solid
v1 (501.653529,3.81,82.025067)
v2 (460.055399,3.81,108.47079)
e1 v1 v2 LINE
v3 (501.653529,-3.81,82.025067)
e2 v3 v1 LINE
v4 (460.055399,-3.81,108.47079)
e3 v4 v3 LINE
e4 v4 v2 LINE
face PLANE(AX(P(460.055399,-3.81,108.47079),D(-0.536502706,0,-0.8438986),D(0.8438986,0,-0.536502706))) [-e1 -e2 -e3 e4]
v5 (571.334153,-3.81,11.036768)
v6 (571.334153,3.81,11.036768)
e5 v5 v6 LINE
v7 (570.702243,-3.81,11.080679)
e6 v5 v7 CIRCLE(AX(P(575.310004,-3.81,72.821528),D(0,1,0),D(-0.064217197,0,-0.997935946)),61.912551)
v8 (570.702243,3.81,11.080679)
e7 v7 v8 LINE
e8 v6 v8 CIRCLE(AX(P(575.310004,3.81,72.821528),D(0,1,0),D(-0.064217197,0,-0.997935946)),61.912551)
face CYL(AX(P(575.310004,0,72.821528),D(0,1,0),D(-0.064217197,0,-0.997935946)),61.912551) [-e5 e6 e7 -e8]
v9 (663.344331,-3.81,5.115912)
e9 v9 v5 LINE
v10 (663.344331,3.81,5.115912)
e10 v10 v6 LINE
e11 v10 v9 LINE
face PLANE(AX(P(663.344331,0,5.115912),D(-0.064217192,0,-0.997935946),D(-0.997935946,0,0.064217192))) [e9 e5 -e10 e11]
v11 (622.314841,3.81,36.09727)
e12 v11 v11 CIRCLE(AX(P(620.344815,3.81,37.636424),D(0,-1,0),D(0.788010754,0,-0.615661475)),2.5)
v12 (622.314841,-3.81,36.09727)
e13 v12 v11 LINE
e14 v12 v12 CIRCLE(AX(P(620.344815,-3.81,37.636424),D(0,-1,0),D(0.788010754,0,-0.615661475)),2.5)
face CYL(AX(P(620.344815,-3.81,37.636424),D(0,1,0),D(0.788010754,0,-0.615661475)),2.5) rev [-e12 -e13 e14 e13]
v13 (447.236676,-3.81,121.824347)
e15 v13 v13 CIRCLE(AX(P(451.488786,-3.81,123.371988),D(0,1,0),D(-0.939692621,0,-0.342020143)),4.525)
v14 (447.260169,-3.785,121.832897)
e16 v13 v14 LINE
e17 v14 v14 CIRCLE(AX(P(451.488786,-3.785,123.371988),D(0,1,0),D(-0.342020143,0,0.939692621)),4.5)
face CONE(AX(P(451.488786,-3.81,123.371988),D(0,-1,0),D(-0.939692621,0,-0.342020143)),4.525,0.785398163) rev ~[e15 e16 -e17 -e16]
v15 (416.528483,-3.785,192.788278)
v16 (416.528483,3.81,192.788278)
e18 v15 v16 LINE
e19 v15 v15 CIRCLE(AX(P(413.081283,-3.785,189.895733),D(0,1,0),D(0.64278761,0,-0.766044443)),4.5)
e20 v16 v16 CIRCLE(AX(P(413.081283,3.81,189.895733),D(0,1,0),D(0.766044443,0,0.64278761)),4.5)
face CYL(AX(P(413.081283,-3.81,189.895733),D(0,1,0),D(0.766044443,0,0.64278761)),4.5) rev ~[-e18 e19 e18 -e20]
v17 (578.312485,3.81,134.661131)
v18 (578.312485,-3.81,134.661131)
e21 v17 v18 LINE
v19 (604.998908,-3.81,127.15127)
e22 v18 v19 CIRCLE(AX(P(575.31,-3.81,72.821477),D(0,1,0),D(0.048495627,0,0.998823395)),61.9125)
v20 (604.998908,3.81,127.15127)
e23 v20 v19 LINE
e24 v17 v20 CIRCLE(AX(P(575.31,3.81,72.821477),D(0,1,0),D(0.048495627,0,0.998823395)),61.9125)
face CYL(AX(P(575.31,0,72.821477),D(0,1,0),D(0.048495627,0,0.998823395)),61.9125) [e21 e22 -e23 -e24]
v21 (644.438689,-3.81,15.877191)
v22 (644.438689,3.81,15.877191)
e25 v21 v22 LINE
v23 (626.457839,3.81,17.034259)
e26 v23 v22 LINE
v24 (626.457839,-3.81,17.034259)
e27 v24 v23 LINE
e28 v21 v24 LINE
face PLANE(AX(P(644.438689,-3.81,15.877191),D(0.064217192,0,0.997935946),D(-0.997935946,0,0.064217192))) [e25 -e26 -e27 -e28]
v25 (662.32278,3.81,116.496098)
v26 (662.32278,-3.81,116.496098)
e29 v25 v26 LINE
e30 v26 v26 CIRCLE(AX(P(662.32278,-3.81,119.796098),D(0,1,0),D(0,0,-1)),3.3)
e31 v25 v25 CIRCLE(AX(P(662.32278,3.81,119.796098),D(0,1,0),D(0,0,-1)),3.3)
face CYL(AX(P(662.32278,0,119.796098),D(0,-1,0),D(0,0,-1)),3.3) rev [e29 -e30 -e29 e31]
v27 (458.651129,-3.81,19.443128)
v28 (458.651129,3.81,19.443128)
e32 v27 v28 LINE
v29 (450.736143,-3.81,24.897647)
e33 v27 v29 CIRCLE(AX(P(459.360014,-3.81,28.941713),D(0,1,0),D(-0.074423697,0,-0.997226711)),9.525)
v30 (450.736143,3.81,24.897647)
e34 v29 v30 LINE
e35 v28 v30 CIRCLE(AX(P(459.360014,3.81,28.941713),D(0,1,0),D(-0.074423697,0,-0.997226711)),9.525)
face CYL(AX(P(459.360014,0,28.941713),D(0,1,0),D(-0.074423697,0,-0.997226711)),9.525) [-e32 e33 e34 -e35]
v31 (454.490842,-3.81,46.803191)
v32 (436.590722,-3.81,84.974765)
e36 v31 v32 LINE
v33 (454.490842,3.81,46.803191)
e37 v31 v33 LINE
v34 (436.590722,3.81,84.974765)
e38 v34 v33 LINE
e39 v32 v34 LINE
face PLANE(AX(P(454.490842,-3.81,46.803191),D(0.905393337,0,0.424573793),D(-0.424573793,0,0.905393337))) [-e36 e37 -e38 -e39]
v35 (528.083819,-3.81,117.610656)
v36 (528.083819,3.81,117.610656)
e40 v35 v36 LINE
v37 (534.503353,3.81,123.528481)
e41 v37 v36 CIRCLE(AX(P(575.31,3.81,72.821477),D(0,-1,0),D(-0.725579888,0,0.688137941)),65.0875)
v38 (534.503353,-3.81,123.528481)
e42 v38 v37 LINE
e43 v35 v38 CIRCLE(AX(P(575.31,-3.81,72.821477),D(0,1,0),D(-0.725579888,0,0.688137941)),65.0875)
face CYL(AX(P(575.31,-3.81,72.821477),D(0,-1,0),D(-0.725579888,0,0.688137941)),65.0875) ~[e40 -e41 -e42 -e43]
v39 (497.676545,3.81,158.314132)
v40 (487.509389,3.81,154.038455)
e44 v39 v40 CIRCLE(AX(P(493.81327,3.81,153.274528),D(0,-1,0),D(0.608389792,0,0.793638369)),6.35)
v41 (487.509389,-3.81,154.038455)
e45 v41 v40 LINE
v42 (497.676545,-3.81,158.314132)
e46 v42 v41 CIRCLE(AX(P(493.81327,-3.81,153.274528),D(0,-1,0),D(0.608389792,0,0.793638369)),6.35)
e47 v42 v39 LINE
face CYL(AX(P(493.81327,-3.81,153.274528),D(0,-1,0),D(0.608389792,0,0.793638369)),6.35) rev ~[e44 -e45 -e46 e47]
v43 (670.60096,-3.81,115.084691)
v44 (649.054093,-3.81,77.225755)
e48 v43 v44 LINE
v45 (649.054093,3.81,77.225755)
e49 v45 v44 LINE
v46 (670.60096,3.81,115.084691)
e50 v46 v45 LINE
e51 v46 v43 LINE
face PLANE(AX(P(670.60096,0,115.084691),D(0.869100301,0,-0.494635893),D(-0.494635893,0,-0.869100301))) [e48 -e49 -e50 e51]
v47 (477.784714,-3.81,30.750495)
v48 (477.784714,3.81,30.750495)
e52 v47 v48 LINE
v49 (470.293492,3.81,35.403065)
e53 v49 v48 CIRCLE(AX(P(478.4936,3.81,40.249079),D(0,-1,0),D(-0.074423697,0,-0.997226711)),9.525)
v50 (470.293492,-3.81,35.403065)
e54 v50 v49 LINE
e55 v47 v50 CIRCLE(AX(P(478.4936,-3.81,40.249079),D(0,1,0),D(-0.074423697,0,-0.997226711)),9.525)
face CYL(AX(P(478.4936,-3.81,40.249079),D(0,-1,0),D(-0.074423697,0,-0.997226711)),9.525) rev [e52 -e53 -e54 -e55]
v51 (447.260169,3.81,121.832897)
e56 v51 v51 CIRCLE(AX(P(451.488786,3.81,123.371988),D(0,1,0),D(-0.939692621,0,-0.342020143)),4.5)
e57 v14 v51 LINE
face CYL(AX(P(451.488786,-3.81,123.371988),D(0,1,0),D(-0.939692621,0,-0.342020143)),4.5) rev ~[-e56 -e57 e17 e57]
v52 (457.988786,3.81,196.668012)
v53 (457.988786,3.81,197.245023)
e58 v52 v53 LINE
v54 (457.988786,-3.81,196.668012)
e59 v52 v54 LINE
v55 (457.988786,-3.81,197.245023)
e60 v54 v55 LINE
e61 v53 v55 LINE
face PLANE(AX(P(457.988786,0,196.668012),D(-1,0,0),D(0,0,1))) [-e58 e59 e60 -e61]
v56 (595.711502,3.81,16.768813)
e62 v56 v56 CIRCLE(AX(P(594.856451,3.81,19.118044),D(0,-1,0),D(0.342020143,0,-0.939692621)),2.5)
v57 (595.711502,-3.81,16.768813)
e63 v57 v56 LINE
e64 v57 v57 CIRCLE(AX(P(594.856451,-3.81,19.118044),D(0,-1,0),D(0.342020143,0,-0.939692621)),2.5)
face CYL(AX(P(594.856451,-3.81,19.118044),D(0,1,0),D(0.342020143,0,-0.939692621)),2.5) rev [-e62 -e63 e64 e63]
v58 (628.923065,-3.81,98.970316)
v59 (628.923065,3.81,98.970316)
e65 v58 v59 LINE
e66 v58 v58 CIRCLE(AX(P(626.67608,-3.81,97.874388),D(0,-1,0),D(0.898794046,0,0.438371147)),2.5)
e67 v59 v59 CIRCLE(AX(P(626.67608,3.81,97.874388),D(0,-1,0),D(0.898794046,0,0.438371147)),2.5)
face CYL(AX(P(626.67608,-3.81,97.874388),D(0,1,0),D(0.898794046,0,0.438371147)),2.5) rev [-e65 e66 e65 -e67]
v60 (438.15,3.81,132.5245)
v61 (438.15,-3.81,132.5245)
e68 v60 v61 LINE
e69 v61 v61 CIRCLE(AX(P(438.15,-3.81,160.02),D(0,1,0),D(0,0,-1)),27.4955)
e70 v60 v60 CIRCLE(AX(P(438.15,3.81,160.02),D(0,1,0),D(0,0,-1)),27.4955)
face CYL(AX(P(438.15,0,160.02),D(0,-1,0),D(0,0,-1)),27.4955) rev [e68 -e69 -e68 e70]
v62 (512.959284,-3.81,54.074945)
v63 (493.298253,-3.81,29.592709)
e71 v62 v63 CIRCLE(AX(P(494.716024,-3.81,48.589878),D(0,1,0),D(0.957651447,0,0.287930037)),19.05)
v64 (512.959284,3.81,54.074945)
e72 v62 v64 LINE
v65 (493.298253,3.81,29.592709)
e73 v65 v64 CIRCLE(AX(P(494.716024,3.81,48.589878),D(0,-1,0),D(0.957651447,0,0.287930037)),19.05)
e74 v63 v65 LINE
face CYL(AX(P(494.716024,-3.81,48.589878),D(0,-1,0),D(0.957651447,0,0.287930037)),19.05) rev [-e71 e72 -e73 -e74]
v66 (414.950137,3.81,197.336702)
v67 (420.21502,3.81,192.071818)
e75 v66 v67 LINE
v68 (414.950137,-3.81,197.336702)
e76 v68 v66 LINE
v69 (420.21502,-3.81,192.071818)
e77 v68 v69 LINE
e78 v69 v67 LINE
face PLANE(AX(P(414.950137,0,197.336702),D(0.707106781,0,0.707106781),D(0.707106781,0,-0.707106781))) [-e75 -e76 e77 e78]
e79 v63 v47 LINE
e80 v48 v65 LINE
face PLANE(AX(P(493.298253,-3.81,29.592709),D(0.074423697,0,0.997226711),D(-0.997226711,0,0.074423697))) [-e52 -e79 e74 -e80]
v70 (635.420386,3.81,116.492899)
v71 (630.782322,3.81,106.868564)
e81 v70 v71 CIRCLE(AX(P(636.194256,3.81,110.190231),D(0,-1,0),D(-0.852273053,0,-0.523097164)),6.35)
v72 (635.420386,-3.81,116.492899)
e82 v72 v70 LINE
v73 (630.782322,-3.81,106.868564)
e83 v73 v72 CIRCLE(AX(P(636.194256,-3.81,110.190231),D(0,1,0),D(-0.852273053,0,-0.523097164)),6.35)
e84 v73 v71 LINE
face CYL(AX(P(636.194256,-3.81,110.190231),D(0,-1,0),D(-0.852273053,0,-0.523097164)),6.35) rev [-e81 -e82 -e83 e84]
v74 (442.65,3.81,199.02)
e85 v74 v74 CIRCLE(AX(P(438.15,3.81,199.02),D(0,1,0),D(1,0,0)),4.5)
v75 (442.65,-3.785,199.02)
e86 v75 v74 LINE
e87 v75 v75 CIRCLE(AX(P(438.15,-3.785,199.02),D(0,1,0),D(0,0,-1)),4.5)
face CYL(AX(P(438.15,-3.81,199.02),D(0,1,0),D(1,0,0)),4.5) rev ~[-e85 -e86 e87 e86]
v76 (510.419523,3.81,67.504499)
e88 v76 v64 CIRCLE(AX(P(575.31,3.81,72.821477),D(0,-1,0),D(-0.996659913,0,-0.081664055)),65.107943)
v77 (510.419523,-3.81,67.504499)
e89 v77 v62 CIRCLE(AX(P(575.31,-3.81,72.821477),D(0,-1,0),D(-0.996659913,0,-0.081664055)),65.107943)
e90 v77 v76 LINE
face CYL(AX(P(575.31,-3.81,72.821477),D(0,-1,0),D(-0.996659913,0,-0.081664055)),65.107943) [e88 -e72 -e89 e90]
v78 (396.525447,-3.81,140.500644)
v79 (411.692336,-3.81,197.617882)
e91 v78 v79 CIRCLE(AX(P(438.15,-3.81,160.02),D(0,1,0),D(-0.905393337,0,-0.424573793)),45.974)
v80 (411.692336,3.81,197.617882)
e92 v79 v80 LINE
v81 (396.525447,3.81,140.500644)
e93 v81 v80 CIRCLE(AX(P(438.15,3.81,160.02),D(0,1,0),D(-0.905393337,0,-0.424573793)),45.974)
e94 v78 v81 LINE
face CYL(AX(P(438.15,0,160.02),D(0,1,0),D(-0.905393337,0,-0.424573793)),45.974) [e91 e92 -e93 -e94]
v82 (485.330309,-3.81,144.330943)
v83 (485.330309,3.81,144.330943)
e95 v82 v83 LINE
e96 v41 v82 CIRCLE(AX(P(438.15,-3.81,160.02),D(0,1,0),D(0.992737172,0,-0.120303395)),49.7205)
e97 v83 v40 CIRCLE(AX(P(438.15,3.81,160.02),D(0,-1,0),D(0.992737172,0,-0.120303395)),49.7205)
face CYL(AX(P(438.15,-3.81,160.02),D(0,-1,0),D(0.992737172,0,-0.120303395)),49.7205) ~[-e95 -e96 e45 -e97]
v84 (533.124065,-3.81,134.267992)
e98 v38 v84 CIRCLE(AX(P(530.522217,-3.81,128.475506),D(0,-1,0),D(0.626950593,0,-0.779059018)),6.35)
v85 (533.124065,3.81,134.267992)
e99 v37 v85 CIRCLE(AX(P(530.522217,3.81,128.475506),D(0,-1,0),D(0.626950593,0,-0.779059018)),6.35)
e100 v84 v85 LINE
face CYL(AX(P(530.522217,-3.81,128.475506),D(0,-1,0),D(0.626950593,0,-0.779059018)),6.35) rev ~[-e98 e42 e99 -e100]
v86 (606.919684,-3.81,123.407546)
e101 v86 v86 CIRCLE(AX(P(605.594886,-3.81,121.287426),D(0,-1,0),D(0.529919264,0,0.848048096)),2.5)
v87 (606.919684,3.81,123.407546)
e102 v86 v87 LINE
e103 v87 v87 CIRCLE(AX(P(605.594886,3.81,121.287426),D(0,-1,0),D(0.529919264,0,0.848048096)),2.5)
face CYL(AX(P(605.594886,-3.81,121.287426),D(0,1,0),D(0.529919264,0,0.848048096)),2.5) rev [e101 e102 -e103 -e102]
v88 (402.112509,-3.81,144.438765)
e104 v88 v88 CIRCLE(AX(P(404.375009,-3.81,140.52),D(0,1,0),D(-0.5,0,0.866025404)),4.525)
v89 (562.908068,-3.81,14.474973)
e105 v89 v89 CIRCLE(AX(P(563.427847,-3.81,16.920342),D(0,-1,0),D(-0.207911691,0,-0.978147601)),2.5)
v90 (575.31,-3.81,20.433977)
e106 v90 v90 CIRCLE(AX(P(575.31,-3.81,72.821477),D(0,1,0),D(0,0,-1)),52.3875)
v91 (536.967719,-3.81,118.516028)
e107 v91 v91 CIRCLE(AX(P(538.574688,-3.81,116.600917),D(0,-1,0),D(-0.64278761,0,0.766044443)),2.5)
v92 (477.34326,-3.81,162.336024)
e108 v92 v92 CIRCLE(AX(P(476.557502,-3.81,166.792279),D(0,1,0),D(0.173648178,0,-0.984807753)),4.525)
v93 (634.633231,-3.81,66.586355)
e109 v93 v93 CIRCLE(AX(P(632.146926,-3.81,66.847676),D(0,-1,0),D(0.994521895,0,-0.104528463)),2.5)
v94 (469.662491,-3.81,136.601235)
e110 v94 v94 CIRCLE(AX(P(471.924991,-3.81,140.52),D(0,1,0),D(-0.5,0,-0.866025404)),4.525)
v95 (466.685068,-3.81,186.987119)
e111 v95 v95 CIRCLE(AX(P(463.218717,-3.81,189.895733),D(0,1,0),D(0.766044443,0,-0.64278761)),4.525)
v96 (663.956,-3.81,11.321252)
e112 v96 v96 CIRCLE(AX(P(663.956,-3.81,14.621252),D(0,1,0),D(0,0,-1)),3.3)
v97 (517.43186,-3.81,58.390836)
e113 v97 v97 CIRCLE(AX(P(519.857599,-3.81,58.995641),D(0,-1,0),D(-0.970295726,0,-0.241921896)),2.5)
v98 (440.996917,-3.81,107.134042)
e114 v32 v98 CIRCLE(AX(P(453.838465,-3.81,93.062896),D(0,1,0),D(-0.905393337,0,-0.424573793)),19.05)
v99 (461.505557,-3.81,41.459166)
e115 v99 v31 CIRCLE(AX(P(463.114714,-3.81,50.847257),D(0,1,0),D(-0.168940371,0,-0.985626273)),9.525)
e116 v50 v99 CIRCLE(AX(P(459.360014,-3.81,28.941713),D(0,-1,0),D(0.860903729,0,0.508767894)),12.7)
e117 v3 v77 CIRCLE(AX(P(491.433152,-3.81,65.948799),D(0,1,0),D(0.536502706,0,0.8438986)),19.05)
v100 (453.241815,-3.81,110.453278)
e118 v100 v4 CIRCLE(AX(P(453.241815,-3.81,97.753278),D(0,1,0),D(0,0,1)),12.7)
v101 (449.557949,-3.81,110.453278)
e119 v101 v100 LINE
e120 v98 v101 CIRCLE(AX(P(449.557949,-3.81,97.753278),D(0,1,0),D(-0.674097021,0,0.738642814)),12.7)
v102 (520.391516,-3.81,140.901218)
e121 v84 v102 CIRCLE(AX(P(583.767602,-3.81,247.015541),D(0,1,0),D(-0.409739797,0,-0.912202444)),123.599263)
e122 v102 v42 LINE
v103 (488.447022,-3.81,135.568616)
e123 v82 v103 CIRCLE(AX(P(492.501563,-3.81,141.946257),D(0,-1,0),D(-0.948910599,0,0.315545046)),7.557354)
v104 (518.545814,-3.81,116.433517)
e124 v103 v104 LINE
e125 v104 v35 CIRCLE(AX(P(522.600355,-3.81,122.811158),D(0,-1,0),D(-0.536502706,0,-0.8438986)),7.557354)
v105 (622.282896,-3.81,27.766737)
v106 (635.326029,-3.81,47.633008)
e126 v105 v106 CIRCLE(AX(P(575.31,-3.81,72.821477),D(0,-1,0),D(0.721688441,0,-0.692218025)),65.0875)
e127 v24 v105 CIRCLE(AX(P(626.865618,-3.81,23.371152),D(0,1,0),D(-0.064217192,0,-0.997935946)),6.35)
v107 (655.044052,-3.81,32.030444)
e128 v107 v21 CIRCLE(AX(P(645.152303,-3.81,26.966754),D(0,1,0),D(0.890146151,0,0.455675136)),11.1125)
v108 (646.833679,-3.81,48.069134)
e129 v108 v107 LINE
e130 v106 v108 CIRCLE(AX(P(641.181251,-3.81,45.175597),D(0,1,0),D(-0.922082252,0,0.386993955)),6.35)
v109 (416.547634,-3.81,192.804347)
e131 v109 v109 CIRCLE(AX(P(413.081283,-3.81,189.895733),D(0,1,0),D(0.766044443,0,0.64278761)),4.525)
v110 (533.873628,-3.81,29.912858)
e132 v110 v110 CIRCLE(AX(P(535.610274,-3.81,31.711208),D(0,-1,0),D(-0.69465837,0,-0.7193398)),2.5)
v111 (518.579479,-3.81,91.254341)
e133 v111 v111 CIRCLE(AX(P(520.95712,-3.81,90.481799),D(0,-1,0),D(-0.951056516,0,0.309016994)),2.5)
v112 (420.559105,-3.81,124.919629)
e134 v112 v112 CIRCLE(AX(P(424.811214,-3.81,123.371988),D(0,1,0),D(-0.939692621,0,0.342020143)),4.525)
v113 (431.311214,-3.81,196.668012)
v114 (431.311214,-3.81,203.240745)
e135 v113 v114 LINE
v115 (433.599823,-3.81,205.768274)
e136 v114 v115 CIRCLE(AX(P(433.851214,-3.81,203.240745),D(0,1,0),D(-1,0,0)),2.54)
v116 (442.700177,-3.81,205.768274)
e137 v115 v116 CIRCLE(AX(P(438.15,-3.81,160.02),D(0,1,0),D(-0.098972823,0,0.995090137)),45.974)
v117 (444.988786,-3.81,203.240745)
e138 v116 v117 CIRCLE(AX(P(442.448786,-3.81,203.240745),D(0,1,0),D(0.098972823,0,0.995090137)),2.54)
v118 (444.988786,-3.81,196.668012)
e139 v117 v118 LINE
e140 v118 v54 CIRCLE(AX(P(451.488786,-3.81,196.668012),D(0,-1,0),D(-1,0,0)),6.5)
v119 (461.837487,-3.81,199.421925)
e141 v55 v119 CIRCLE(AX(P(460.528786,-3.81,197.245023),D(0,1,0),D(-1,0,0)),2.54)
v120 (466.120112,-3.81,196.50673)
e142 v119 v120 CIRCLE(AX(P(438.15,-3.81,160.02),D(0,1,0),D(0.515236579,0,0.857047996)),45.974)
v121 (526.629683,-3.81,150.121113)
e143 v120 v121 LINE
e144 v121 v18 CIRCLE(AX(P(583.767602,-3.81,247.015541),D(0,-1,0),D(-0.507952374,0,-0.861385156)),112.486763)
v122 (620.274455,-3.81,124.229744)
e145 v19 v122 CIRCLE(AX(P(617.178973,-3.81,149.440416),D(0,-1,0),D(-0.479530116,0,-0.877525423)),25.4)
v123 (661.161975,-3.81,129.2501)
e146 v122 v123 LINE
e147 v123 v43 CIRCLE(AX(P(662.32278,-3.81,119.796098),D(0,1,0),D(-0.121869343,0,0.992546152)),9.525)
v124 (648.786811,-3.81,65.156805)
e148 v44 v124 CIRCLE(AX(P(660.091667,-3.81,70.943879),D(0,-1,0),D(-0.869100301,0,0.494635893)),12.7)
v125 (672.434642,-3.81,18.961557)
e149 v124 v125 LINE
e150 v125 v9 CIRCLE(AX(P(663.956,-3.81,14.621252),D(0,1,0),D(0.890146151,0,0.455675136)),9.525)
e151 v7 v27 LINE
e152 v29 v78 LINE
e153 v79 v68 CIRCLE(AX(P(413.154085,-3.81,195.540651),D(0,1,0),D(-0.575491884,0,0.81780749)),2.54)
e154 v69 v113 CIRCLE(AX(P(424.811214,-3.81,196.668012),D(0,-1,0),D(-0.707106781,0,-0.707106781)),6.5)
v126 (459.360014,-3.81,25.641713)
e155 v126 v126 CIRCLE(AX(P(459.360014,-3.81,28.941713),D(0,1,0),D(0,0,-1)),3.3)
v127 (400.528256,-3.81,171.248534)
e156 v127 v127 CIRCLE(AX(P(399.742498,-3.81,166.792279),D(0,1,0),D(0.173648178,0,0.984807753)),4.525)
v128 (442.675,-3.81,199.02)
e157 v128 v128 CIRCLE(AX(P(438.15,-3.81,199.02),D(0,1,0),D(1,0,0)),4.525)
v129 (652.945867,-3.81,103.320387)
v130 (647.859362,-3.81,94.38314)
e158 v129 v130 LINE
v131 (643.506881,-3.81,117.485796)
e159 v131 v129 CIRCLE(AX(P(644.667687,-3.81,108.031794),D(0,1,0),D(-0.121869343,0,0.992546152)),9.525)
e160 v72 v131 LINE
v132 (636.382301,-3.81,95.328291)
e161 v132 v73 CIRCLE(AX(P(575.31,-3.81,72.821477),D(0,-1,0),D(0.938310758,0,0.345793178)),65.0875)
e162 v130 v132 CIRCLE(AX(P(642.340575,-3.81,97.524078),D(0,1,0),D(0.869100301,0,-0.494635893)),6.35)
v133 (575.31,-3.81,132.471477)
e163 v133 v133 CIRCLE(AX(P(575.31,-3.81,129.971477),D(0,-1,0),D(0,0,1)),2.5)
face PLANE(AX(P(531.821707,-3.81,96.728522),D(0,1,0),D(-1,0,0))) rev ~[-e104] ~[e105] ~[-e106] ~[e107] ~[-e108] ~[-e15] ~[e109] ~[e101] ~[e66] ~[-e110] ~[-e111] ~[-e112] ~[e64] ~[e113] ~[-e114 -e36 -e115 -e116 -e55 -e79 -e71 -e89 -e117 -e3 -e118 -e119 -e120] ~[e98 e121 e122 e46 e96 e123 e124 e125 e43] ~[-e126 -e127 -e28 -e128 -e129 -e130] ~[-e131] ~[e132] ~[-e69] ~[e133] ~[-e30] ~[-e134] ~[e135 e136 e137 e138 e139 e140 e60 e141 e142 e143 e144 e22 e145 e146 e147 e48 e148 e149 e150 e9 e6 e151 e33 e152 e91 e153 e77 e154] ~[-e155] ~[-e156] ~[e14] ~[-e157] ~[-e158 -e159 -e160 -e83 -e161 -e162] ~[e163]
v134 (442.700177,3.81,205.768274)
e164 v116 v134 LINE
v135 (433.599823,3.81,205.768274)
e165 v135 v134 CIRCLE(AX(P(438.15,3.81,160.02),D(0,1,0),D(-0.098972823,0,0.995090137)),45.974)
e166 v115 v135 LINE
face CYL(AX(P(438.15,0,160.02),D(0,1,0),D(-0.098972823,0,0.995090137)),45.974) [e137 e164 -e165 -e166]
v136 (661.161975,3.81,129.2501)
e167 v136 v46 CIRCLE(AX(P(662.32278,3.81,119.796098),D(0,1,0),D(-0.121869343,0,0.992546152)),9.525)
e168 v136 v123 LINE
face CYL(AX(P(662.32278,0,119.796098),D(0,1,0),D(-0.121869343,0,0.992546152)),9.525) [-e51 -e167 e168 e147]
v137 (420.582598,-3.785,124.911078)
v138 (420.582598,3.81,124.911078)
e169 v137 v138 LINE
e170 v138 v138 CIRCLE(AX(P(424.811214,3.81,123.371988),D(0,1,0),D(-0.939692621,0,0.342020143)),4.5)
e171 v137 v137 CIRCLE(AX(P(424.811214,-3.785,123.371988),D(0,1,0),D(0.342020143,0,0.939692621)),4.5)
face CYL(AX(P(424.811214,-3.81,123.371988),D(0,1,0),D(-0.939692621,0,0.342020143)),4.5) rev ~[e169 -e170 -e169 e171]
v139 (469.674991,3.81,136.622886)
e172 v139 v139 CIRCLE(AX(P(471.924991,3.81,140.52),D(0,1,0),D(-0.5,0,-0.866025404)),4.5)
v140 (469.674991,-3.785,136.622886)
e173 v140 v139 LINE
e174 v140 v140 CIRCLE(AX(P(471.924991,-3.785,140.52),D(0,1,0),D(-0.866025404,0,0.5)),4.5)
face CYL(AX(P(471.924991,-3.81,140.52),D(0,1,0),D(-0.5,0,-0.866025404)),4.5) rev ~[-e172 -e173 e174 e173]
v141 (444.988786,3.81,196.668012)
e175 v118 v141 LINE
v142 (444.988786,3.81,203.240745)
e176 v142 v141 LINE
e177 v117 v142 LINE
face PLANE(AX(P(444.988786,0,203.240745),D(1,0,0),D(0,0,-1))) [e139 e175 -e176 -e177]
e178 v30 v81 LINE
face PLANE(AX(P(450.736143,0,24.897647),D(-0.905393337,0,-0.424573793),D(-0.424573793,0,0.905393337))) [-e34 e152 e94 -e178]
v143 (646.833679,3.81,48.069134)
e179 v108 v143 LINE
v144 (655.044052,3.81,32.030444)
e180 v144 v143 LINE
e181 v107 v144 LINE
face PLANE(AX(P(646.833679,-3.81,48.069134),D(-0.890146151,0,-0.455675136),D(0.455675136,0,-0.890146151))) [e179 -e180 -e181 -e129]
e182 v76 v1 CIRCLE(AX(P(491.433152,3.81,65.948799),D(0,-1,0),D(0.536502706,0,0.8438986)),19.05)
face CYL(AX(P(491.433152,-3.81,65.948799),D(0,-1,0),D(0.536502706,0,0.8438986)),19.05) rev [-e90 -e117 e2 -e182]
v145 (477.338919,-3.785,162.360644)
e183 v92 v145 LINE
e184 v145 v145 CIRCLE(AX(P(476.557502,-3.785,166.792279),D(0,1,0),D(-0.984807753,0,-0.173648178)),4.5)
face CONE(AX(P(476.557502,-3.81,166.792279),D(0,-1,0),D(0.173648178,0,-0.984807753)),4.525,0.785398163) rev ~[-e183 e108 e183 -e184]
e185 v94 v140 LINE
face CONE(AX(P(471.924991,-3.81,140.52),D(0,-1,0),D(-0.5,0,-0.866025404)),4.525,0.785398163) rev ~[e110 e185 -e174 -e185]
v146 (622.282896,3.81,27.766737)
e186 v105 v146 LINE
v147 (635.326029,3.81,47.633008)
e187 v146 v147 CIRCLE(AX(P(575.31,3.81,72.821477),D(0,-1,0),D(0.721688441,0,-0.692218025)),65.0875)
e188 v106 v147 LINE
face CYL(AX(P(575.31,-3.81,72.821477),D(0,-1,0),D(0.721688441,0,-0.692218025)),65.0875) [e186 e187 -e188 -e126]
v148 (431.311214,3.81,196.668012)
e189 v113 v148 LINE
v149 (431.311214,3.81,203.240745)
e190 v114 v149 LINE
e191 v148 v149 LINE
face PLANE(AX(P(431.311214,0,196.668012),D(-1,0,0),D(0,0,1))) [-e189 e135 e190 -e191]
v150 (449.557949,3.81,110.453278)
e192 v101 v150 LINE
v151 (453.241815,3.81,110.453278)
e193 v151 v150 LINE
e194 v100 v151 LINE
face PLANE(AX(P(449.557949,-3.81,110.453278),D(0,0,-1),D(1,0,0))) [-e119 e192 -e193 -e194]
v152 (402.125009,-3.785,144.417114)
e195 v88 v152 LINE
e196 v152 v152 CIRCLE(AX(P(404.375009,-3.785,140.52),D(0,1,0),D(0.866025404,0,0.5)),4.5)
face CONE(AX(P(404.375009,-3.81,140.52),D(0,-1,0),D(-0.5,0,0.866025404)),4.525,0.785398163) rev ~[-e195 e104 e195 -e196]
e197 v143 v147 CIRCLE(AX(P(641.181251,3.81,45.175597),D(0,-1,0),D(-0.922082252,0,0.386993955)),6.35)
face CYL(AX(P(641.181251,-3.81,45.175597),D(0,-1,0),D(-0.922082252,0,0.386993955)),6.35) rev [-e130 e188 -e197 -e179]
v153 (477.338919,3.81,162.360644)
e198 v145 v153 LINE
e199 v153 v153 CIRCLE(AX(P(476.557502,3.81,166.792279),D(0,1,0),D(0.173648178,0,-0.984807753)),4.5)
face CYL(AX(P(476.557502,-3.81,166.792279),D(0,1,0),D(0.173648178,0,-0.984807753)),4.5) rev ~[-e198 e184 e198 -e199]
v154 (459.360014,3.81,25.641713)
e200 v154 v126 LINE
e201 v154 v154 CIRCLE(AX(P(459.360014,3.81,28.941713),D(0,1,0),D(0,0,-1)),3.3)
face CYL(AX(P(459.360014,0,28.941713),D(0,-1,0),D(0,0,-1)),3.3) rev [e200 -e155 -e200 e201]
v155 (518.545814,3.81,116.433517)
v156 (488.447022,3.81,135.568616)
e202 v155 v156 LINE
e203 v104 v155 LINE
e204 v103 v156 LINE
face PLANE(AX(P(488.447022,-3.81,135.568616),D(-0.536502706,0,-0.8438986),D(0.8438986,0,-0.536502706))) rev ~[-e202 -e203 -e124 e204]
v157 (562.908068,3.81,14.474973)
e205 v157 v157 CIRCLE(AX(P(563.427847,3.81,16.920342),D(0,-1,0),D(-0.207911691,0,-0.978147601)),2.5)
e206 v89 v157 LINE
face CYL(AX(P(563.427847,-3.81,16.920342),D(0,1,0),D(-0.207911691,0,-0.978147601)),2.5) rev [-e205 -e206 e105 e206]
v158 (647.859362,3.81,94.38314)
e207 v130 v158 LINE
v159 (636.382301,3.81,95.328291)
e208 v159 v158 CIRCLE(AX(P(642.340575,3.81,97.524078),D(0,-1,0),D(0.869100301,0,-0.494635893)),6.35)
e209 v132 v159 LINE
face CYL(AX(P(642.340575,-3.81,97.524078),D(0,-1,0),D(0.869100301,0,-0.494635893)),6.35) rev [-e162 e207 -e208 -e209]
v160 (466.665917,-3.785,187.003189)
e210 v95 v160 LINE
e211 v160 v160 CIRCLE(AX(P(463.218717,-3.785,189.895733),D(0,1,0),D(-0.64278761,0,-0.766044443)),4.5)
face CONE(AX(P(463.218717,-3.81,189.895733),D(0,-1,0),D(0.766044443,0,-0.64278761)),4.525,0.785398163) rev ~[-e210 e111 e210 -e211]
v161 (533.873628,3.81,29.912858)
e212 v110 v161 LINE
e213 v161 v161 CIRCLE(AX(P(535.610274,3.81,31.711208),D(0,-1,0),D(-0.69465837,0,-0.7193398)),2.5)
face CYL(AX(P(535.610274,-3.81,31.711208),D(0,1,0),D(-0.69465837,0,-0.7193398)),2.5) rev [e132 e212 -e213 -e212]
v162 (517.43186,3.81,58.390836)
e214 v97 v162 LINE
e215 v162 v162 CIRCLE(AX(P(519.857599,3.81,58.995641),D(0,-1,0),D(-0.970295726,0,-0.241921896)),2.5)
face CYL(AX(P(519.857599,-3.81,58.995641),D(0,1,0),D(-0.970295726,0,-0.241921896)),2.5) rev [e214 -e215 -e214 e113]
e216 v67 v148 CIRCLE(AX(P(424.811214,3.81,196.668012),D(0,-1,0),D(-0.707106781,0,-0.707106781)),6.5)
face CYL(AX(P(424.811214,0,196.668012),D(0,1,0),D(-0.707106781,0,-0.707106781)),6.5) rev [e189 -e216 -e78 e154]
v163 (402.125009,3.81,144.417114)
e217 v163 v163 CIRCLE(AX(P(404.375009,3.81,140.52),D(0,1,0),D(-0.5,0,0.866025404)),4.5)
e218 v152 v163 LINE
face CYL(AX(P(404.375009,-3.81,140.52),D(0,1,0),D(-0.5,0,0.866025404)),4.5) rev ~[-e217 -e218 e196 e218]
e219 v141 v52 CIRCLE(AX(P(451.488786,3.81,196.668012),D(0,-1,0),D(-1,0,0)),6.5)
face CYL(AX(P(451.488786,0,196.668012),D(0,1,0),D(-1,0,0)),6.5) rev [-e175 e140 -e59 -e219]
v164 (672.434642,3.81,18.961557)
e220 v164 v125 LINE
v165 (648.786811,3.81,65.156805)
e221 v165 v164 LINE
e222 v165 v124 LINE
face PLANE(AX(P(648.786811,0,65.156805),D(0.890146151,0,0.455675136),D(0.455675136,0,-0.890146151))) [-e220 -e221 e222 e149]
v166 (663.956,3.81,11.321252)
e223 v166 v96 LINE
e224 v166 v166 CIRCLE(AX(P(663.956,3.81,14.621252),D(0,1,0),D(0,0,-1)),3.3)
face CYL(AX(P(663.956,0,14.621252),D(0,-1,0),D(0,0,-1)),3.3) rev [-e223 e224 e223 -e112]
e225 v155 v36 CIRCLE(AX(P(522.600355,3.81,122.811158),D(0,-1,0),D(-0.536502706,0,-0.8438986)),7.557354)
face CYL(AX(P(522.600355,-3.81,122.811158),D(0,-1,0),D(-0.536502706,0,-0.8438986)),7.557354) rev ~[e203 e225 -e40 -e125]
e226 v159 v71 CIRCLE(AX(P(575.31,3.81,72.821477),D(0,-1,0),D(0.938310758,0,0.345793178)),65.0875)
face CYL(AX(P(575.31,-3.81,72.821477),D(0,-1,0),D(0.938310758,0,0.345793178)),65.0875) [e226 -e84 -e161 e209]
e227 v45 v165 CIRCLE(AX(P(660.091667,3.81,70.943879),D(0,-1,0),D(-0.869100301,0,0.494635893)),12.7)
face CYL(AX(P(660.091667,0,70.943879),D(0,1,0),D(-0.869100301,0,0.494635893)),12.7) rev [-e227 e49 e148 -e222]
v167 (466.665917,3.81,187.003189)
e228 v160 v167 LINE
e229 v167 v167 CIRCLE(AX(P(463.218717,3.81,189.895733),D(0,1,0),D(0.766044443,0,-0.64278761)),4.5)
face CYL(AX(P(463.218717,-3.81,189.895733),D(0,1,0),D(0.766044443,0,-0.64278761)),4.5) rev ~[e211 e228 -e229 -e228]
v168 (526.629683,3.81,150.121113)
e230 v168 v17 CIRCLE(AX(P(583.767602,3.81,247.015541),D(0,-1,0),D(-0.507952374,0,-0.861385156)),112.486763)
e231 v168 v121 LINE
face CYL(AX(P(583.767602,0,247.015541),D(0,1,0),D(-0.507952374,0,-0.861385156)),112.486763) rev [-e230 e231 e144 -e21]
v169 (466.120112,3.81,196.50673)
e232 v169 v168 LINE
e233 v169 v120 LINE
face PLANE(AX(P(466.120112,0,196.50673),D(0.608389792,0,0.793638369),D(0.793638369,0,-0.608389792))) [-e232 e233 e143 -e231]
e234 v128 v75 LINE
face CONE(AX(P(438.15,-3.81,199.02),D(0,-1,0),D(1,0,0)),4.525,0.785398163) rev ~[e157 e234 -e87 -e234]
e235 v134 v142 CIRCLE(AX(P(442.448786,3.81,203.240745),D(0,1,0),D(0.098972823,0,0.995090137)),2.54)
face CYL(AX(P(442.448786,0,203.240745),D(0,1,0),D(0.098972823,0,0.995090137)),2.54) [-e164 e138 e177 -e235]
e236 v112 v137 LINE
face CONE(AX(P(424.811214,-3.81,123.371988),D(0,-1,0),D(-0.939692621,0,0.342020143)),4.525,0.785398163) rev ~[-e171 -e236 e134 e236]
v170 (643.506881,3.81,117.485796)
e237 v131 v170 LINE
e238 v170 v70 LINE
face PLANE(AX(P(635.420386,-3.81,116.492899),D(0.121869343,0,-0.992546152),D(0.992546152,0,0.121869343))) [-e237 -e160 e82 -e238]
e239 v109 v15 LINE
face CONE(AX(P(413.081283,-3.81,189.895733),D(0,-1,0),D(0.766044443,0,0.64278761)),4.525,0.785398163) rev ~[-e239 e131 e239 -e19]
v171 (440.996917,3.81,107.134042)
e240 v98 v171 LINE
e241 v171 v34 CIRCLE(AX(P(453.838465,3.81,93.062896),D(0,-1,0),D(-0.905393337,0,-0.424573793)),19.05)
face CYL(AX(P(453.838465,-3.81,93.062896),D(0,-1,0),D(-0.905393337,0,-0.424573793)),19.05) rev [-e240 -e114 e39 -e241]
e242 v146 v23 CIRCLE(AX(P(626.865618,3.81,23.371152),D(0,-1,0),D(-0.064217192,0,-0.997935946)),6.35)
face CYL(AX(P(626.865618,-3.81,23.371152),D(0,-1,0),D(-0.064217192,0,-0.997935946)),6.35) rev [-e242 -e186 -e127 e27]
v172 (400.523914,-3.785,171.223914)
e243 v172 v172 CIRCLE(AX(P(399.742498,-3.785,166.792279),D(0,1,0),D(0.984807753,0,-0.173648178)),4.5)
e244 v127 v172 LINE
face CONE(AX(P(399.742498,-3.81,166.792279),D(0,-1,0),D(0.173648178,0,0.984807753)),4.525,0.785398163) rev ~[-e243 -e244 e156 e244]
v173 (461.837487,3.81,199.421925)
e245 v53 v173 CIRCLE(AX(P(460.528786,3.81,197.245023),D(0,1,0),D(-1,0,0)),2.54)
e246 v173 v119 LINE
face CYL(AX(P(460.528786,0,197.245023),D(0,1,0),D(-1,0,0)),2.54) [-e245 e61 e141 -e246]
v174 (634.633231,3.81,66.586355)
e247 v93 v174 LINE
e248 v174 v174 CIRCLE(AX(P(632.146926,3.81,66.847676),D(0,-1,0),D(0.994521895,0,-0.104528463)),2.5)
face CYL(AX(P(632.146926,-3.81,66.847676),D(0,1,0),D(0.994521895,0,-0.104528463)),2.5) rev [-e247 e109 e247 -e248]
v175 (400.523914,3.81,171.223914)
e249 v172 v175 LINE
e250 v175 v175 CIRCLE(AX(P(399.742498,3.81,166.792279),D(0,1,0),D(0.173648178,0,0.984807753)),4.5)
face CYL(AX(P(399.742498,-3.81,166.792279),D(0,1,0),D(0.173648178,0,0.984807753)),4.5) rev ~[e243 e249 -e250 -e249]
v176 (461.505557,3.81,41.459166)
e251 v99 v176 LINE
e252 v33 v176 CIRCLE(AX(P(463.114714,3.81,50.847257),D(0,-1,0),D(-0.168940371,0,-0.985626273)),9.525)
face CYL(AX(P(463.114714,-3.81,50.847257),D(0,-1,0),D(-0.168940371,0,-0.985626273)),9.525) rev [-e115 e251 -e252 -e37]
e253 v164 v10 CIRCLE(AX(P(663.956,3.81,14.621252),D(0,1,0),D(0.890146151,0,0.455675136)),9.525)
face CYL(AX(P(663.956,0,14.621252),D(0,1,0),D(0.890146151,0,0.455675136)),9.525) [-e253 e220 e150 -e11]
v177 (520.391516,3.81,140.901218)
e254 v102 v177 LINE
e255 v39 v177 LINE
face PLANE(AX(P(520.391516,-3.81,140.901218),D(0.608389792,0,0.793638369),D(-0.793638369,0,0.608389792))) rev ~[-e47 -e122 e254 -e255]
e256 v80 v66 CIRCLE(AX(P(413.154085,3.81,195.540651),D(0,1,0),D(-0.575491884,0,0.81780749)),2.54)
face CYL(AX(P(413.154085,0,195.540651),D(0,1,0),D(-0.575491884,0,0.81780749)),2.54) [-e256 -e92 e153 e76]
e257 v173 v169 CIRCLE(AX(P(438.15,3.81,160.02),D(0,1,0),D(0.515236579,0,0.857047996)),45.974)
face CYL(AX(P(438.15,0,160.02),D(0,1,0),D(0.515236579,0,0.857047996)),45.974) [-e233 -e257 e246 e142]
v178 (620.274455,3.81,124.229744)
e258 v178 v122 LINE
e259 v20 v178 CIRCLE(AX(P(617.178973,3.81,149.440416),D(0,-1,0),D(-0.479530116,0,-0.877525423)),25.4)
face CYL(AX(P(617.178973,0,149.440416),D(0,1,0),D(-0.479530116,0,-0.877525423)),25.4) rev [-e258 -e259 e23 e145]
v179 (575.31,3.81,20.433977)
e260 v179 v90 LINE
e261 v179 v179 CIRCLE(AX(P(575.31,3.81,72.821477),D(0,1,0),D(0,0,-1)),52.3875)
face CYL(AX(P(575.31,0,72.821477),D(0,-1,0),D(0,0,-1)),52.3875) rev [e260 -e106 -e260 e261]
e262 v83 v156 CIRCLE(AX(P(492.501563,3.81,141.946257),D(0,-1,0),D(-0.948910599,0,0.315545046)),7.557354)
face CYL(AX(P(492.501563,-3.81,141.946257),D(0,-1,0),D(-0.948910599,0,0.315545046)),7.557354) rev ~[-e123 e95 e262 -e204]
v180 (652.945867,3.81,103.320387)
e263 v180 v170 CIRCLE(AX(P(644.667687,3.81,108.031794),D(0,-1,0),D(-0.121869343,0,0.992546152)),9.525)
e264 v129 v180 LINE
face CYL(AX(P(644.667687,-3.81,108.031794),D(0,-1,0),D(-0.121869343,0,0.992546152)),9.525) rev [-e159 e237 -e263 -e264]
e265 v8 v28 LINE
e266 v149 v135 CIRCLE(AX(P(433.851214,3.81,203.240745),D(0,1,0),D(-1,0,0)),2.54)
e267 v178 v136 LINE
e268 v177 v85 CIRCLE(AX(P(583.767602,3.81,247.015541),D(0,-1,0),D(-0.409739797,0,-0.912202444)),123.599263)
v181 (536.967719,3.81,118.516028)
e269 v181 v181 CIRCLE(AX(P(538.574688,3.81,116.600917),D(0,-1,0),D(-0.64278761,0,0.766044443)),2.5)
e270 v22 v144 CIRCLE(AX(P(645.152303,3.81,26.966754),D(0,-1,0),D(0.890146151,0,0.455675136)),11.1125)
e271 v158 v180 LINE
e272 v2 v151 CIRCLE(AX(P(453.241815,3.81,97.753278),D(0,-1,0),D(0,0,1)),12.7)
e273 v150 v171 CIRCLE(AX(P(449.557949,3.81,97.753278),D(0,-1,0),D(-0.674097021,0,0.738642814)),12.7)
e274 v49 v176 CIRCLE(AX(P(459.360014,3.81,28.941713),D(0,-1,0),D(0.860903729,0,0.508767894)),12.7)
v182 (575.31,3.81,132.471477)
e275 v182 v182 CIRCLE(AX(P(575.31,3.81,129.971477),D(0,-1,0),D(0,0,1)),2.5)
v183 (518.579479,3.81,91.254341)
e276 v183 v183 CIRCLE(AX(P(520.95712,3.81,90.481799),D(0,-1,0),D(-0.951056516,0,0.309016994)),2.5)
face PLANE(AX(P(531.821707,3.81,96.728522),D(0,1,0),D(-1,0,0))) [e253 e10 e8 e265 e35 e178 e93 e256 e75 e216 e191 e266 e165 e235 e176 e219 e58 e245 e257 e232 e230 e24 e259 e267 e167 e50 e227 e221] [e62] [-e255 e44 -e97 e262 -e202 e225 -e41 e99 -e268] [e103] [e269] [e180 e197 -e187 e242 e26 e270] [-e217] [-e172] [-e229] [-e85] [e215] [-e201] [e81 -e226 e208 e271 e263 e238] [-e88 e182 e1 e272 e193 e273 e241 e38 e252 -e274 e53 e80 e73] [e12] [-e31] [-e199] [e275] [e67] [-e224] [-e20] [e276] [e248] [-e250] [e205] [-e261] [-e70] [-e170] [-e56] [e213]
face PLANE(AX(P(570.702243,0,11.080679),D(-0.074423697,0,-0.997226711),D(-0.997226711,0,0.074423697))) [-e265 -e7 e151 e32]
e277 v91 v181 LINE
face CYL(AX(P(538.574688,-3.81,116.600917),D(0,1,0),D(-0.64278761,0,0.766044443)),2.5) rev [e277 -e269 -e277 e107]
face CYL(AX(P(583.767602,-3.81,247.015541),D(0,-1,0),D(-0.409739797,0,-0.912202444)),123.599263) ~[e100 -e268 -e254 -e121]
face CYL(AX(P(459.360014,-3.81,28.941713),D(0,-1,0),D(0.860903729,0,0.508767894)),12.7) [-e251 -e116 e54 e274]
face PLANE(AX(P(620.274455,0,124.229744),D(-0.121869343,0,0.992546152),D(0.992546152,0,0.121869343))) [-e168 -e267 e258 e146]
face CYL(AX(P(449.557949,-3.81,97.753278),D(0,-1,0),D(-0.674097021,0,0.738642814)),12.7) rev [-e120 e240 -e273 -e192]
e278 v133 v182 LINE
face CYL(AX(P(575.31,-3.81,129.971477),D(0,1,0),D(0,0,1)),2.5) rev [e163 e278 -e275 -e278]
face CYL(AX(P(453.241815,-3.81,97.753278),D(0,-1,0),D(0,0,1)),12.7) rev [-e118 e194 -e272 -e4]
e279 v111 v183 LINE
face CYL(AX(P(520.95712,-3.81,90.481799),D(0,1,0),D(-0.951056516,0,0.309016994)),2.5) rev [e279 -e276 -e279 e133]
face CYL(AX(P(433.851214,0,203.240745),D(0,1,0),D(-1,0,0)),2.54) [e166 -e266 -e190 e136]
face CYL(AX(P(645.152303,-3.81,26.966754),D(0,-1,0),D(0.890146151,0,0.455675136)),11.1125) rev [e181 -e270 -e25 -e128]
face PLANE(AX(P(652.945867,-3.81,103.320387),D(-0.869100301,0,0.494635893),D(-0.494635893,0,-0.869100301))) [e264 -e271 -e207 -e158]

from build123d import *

# Parameters (mm, degrees)
SKETCH1_R                      = 27.4955
SKETCH1_R_2                    = 52.3875
SKETCH1_R_3                    = 3.3
BOSS_EXTRUDE1_DEPTH            = 3.81
M8_CLEARANCE_HOLE1_D           = 9
M8_CLEARANCE_HOLE1_CSINK_D     = 9.05
M8_CLEARANCE_HOLE1_CSINK_ANGLE = 90
CIRPATTERN1_COUNT              = 9
CUT_EXTRUDE2_DEPTH             = 705.3211269
CIRPATTERN3_COUNT              = 11
CIRPATTERN3_ANGLE              = 320


with BuildPart() as part:
    # Sketch1 → Boss-Extrude1 (new, symmetric)
    with BuildSketch(Plane(origin=(0, 0, 0), x_dir=(-1, 0, 0), z_dir=(0, 1, 0))):
        with BuildLine():
            Line((-663.344331246, 5.11591187), (-571.334153098, 11.036768117))
            ThreePointArc((-571.334153098, 11.036768117), (-571.018141837, 11.05791522), (-570.70224289, 11.080678619))
            Line((-570.70224289, 11.080678619), (-458.651128563, 19.443128234))
            ThreePointArc((-458.651128563, 19.443128234), (-453.955105952, 21.098716352), (-450.736142738, 24.897647282))
            Line((-450.736142738, 24.897647282), (-396.525446728, 140.500644454))
            ThreePointArc((-396.525446728, 140.500644454), (-393.715871596, 171.819021526), (-411.692336104, 197.617881552))
            ThreePointArc((-411.692336104, 197.617881552), (-413.372500119, 198.071242365), (-414.950136715, 197.336701751))
            Line((-414.950136715, 197.336701751), (-420.215020333, 192.071818133))
            ThreePointArc((-420.215020333, 192.071818133), (-427.298656721, 190.662795249), (-431.31121441, 196.668012211))
            Line((-431.31121441, 196.668012211), (-431.31121441, 203.240745001))
            ThreePointArc((-431.31121441, 203.240745001), (-431.968379704, 204.945600851), (-433.59982344, 205.768273949))
            ThreePointArc((-433.59982344, 205.768273949), (-438.15, 205.994), (-442.70017656, 205.768273949))
            ThreePointArc((-442.70017656, 205.768273949), (-444.331620296, 204.945600851), (-444.98878559, 203.240745001))
            Line((-444.98878559, 203.240745001), (-444.98878559, 196.668012211))
            ThreePointArc((-444.98878559, 196.668012211), (-451.48878559, 190.168012211), (-457.98878559, 196.668012211))
            Line((-457.98878559, 196.668012211), (-457.98878559, 197.245022653))
            ThreePointArc((-457.98878559, 197.245022653), (-459.278285753, 199.455870942), (-461.837486501, 199.421924563))
            ThreePointArc((-461.837486501, 199.421924563), (-464.019895008, 198.024699819), (-466.120112298, 196.506730383))
            Line((-466.120112298, 196.506730383), (-526.629683433, 150.121113421))
            ThreePointArc((-526.629683433, 150.121113421), (-551.530592574, 139.247052869), (-578.312485484, 134.661130809))
            ThreePointArc((-578.312485484, 134.661130809), (-592.081443241, 132.419097692), (-604.99890828, 127.151270133))
            ThreePointArc((-604.99890828, 127.151270133), (-612.407574664, 124.492595217), (-620.274454537, 124.229743629))
            Line((-620.274454537, 124.229743629), (-661.161974504, 129.250099814))
            ThreePointArc((-661.161974504, 129.250099814), (-670.249252048, 125.077827159), (-670.600960367, 115.084690838))
            Line((-670.600960367, 115.084690838), (-649.054093444, 77.225755025))
            ThreePointArc((-649.054093444, 77.225755025), (-647.394780527, 71.225067939), (-648.786811147, 65.156804956))
            Line((-648.786811147, 65.156804956), (-672.43464209, 18.961557425))
            ThreePointArc((-672.43464209, 18.961557425), (-671.918273078, 9.393648822), (-663.344331246, 5.11591187))
        make_face()
        with Locations((-438.15, 160.02)):
            Circle(SKETCH1_R, mode=Mode.SUBTRACT)
        with Locations((-575.31, 72.821477372)):
            Circle(SKETCH1_R_2, mode=Mode.SUBTRACT)
        with Locations((-662.32278, 119.79609772)):
            Circle(SKETCH1_R_3, mode=Mode.SUBTRACT)
        with Locations((-663.956, 14.621251755)):
            Circle(SKETCH1_R_3, mode=Mode.SUBTRACT)
        with Locations((-459.360014272, 28.941712658)):
            Circle(SKETCH1_R_3, mode=Mode.SUBTRACT)
    extrude(amount=BOSS_EXTRUDE1_DEPTH, both=True)

    # M8 Clearance Hole1 (through all)
    with Locations(Plane(origin=(0, -3.81, 0), x_dir=(-1, 0, 0), z_dir=(0, -1, 0))):
        with Locations((-438.15, -199.019999978)):
            m8_clearance_hole1 = CounterSinkHole(M8_CLEARANCE_HOLE1_D / 2, M8_CLEARANCE_HOLE1_CSINK_D / 2, counter_sink_angle=M8_CLEARANCE_HOLE1_CSINK_ANGLE)

    # CirPattern1: M8 Clearance Hole1 ×9 about axis
    cirpattern1_axis = Axis((438.15, 3.81, 160.02), (0, -1, 0))
    for i in range(1, CIRPATTERN1_COUNT):
        add(m8_clearance_hole1.rotate(cirpattern1_axis, i * 360 / CIRPATTERN1_COUNT), mode=Mode.SUBTRACT)

    # Sketch10 → Cut-Extrude2 (cut, through all)
    with BuildSketch(Plane.XZ.offset(3.81)):
        with BuildLine():
            Line((501.653528527, 82.025066826), (460.055399035, 108.47079033))
            ThreePointArc((460.055399035, 108.47079033), (456.789884205, 109.947588368), (453.24181467, 110.453278114))
            Line((453.24181467, 110.453278114), (449.557948705, 110.453278114))
            ThreePointArc((449.557948705, 110.453278114), (444.966962938, 109.594428804), (440.996916533, 107.134041843))
            ThreePointArc((440.996916533, 107.134041843), (435.154253671, 96.778102142), (436.590721722, 84.974765498))
            Line((436.590721722, 84.974765498), (454.490842485, 46.803191211))
            ThreePointArc((454.490842485, 46.803191211), (457.342507431, 43.270498962), (461.505556985, 41.459166331))
            ThreePointArc((461.505556985, 41.459166331), (466.5665587, 39.399041065), (470.293491627, 35.40306491))
            ThreePointArc((470.293491627, 35.40306491), (473.468249432, 32.15763422), (477.784713934, 30.750494677))
            Line((477.784713934, 30.750494677), (493.298252827, 29.592708892))
            ThreePointArc((493.298252827, 29.592708892), (509.569281047, 36.661622947), (512.959284307, 54.07494495))
            ThreePointArc((512.959284307, 54.07494495), (511.336032734, 60.722893264), (510.419523322, 67.504498748))
            ThreePointArc((510.419523322, 67.504498748), (507.74174649, 75.794215969), (501.653528527, 82.025066826))
        make_face()
        with BuildLine():
            ThreePointArc((518.5458141, 116.433517192), (523.526027217, 115.31070897), (528.083819046, 117.610655627))
            ThreePointArc((528.083819046, 117.610655627), (531.194244853, 120.677331811), (534.503353276, 123.528481221))
            ThreePointArc((534.503353276, 123.528481221), (536.820485804, 129.284400418), (533.124064721, 134.267991506))
            ThreePointArc((533.124064721, 134.267991506), (526.661398117, 137.399578344), (520.391516426, 140.901217866))
            Line((520.391516426, 140.901217866), (497.676544793, 158.314132116))
            ThreePointArc((497.676544793, 158.314132116), (491.351665893, 159.127989595), (487.50938857, 154.038455032))
            ThreePointArc((487.50938857, 154.038455032), (486.663269024, 149.130057447), (485.330309415, 144.330942547))
            ThreePointArc((485.330309415, 144.330942547), (485.381225421, 139.4135911), (488.447021855, 135.568616467))
            Line((488.447021855, 135.568616467), (518.5458141, 116.433517192))
        make_face()
        with BuildLine():
            ThreePointArc((622.282896399, 27.766736666), (620.947612088, 21.069043166), (626.45783883, 17.03425895))
            Line((626.45783883, 17.03425895), (644.438689484, 15.877190959))
            ThreePointArc((644.438689484, 15.877190959), (654.441621622, 20.86788407), (655.044052135, 32.030444107))
            Line((655.044052135, 32.030444107), (646.833678916, 48.069133834))
            ThreePointArc((646.833678916, 48.069133834), (640.940766472, 51.521041328), (635.326028557, 47.633008334))
            ThreePointArc((635.326028557, 47.633008334), (629.718866036, 37.099523997), (622.282896399, 27.766736666))
        make_face()
        with BuildLine():
            Line((643.506881083, 117.485795833), (635.420385908, 116.492899074))
            ThreePointArc((635.420385908, 116.492899074), (630.473854175, 112.946950119), (630.78232235, 106.868564021))
            ThreePointArc((630.78232235, 106.868564021), (633.867295103, 101.236717058), (636.38230144, 95.328290853))
            ThreePointArc((636.38230144, 95.328290853), (641.819407992, 91.195500663), (647.859361663, 94.383139612))
            Line((647.859361663, 94.383139612), (652.945866946, 103.320386857))
            ThreePointArc((652.945866946, 103.320386857), (652.594158627, 113.313523178), (643.506881083, 117.485795833))
        make_face()
    extrude(amount=-CUT_EXTRUDE2_DEPTH, mode=Mode.SUBTRACT)

    # Sketch14 → Ø5.0mm Dowel Hole2 (revolve, cut)
    with BuildSketch(Plane(origin=(575.31, 3.81, 129.971477372), x_dir=(0, 0, 1), z_dir=(1, 0, 0))):
        Polygon((0, 0), (0, 9.122151548), (2.5, 7.62), (2.5, 0), align=None)
    f_5_0mm_dowel_hole2 = revolve(axis=Axis((575.31, 10.16, 129.971477372), (0, -1, 0)), mode=Mode.SUBTRACT)

    # CirPattern3: Ø5.0mm Dowel Hole2 ×11 about axis
    cirpattern3_axis = Axis((575.31, 3.81, 72.821477372), (0, 1, 0))
    for i in range(1, CIRPATTERN3_COUNT):
        add(f_5_0mm_dowel_hole2.rotate(cirpattern3_axis, i * CIRPATTERN3_ANGLE / (CIRPATTERN3_COUNT - 1)), mode=Mode.SUBTRACT)


solid = part.part
